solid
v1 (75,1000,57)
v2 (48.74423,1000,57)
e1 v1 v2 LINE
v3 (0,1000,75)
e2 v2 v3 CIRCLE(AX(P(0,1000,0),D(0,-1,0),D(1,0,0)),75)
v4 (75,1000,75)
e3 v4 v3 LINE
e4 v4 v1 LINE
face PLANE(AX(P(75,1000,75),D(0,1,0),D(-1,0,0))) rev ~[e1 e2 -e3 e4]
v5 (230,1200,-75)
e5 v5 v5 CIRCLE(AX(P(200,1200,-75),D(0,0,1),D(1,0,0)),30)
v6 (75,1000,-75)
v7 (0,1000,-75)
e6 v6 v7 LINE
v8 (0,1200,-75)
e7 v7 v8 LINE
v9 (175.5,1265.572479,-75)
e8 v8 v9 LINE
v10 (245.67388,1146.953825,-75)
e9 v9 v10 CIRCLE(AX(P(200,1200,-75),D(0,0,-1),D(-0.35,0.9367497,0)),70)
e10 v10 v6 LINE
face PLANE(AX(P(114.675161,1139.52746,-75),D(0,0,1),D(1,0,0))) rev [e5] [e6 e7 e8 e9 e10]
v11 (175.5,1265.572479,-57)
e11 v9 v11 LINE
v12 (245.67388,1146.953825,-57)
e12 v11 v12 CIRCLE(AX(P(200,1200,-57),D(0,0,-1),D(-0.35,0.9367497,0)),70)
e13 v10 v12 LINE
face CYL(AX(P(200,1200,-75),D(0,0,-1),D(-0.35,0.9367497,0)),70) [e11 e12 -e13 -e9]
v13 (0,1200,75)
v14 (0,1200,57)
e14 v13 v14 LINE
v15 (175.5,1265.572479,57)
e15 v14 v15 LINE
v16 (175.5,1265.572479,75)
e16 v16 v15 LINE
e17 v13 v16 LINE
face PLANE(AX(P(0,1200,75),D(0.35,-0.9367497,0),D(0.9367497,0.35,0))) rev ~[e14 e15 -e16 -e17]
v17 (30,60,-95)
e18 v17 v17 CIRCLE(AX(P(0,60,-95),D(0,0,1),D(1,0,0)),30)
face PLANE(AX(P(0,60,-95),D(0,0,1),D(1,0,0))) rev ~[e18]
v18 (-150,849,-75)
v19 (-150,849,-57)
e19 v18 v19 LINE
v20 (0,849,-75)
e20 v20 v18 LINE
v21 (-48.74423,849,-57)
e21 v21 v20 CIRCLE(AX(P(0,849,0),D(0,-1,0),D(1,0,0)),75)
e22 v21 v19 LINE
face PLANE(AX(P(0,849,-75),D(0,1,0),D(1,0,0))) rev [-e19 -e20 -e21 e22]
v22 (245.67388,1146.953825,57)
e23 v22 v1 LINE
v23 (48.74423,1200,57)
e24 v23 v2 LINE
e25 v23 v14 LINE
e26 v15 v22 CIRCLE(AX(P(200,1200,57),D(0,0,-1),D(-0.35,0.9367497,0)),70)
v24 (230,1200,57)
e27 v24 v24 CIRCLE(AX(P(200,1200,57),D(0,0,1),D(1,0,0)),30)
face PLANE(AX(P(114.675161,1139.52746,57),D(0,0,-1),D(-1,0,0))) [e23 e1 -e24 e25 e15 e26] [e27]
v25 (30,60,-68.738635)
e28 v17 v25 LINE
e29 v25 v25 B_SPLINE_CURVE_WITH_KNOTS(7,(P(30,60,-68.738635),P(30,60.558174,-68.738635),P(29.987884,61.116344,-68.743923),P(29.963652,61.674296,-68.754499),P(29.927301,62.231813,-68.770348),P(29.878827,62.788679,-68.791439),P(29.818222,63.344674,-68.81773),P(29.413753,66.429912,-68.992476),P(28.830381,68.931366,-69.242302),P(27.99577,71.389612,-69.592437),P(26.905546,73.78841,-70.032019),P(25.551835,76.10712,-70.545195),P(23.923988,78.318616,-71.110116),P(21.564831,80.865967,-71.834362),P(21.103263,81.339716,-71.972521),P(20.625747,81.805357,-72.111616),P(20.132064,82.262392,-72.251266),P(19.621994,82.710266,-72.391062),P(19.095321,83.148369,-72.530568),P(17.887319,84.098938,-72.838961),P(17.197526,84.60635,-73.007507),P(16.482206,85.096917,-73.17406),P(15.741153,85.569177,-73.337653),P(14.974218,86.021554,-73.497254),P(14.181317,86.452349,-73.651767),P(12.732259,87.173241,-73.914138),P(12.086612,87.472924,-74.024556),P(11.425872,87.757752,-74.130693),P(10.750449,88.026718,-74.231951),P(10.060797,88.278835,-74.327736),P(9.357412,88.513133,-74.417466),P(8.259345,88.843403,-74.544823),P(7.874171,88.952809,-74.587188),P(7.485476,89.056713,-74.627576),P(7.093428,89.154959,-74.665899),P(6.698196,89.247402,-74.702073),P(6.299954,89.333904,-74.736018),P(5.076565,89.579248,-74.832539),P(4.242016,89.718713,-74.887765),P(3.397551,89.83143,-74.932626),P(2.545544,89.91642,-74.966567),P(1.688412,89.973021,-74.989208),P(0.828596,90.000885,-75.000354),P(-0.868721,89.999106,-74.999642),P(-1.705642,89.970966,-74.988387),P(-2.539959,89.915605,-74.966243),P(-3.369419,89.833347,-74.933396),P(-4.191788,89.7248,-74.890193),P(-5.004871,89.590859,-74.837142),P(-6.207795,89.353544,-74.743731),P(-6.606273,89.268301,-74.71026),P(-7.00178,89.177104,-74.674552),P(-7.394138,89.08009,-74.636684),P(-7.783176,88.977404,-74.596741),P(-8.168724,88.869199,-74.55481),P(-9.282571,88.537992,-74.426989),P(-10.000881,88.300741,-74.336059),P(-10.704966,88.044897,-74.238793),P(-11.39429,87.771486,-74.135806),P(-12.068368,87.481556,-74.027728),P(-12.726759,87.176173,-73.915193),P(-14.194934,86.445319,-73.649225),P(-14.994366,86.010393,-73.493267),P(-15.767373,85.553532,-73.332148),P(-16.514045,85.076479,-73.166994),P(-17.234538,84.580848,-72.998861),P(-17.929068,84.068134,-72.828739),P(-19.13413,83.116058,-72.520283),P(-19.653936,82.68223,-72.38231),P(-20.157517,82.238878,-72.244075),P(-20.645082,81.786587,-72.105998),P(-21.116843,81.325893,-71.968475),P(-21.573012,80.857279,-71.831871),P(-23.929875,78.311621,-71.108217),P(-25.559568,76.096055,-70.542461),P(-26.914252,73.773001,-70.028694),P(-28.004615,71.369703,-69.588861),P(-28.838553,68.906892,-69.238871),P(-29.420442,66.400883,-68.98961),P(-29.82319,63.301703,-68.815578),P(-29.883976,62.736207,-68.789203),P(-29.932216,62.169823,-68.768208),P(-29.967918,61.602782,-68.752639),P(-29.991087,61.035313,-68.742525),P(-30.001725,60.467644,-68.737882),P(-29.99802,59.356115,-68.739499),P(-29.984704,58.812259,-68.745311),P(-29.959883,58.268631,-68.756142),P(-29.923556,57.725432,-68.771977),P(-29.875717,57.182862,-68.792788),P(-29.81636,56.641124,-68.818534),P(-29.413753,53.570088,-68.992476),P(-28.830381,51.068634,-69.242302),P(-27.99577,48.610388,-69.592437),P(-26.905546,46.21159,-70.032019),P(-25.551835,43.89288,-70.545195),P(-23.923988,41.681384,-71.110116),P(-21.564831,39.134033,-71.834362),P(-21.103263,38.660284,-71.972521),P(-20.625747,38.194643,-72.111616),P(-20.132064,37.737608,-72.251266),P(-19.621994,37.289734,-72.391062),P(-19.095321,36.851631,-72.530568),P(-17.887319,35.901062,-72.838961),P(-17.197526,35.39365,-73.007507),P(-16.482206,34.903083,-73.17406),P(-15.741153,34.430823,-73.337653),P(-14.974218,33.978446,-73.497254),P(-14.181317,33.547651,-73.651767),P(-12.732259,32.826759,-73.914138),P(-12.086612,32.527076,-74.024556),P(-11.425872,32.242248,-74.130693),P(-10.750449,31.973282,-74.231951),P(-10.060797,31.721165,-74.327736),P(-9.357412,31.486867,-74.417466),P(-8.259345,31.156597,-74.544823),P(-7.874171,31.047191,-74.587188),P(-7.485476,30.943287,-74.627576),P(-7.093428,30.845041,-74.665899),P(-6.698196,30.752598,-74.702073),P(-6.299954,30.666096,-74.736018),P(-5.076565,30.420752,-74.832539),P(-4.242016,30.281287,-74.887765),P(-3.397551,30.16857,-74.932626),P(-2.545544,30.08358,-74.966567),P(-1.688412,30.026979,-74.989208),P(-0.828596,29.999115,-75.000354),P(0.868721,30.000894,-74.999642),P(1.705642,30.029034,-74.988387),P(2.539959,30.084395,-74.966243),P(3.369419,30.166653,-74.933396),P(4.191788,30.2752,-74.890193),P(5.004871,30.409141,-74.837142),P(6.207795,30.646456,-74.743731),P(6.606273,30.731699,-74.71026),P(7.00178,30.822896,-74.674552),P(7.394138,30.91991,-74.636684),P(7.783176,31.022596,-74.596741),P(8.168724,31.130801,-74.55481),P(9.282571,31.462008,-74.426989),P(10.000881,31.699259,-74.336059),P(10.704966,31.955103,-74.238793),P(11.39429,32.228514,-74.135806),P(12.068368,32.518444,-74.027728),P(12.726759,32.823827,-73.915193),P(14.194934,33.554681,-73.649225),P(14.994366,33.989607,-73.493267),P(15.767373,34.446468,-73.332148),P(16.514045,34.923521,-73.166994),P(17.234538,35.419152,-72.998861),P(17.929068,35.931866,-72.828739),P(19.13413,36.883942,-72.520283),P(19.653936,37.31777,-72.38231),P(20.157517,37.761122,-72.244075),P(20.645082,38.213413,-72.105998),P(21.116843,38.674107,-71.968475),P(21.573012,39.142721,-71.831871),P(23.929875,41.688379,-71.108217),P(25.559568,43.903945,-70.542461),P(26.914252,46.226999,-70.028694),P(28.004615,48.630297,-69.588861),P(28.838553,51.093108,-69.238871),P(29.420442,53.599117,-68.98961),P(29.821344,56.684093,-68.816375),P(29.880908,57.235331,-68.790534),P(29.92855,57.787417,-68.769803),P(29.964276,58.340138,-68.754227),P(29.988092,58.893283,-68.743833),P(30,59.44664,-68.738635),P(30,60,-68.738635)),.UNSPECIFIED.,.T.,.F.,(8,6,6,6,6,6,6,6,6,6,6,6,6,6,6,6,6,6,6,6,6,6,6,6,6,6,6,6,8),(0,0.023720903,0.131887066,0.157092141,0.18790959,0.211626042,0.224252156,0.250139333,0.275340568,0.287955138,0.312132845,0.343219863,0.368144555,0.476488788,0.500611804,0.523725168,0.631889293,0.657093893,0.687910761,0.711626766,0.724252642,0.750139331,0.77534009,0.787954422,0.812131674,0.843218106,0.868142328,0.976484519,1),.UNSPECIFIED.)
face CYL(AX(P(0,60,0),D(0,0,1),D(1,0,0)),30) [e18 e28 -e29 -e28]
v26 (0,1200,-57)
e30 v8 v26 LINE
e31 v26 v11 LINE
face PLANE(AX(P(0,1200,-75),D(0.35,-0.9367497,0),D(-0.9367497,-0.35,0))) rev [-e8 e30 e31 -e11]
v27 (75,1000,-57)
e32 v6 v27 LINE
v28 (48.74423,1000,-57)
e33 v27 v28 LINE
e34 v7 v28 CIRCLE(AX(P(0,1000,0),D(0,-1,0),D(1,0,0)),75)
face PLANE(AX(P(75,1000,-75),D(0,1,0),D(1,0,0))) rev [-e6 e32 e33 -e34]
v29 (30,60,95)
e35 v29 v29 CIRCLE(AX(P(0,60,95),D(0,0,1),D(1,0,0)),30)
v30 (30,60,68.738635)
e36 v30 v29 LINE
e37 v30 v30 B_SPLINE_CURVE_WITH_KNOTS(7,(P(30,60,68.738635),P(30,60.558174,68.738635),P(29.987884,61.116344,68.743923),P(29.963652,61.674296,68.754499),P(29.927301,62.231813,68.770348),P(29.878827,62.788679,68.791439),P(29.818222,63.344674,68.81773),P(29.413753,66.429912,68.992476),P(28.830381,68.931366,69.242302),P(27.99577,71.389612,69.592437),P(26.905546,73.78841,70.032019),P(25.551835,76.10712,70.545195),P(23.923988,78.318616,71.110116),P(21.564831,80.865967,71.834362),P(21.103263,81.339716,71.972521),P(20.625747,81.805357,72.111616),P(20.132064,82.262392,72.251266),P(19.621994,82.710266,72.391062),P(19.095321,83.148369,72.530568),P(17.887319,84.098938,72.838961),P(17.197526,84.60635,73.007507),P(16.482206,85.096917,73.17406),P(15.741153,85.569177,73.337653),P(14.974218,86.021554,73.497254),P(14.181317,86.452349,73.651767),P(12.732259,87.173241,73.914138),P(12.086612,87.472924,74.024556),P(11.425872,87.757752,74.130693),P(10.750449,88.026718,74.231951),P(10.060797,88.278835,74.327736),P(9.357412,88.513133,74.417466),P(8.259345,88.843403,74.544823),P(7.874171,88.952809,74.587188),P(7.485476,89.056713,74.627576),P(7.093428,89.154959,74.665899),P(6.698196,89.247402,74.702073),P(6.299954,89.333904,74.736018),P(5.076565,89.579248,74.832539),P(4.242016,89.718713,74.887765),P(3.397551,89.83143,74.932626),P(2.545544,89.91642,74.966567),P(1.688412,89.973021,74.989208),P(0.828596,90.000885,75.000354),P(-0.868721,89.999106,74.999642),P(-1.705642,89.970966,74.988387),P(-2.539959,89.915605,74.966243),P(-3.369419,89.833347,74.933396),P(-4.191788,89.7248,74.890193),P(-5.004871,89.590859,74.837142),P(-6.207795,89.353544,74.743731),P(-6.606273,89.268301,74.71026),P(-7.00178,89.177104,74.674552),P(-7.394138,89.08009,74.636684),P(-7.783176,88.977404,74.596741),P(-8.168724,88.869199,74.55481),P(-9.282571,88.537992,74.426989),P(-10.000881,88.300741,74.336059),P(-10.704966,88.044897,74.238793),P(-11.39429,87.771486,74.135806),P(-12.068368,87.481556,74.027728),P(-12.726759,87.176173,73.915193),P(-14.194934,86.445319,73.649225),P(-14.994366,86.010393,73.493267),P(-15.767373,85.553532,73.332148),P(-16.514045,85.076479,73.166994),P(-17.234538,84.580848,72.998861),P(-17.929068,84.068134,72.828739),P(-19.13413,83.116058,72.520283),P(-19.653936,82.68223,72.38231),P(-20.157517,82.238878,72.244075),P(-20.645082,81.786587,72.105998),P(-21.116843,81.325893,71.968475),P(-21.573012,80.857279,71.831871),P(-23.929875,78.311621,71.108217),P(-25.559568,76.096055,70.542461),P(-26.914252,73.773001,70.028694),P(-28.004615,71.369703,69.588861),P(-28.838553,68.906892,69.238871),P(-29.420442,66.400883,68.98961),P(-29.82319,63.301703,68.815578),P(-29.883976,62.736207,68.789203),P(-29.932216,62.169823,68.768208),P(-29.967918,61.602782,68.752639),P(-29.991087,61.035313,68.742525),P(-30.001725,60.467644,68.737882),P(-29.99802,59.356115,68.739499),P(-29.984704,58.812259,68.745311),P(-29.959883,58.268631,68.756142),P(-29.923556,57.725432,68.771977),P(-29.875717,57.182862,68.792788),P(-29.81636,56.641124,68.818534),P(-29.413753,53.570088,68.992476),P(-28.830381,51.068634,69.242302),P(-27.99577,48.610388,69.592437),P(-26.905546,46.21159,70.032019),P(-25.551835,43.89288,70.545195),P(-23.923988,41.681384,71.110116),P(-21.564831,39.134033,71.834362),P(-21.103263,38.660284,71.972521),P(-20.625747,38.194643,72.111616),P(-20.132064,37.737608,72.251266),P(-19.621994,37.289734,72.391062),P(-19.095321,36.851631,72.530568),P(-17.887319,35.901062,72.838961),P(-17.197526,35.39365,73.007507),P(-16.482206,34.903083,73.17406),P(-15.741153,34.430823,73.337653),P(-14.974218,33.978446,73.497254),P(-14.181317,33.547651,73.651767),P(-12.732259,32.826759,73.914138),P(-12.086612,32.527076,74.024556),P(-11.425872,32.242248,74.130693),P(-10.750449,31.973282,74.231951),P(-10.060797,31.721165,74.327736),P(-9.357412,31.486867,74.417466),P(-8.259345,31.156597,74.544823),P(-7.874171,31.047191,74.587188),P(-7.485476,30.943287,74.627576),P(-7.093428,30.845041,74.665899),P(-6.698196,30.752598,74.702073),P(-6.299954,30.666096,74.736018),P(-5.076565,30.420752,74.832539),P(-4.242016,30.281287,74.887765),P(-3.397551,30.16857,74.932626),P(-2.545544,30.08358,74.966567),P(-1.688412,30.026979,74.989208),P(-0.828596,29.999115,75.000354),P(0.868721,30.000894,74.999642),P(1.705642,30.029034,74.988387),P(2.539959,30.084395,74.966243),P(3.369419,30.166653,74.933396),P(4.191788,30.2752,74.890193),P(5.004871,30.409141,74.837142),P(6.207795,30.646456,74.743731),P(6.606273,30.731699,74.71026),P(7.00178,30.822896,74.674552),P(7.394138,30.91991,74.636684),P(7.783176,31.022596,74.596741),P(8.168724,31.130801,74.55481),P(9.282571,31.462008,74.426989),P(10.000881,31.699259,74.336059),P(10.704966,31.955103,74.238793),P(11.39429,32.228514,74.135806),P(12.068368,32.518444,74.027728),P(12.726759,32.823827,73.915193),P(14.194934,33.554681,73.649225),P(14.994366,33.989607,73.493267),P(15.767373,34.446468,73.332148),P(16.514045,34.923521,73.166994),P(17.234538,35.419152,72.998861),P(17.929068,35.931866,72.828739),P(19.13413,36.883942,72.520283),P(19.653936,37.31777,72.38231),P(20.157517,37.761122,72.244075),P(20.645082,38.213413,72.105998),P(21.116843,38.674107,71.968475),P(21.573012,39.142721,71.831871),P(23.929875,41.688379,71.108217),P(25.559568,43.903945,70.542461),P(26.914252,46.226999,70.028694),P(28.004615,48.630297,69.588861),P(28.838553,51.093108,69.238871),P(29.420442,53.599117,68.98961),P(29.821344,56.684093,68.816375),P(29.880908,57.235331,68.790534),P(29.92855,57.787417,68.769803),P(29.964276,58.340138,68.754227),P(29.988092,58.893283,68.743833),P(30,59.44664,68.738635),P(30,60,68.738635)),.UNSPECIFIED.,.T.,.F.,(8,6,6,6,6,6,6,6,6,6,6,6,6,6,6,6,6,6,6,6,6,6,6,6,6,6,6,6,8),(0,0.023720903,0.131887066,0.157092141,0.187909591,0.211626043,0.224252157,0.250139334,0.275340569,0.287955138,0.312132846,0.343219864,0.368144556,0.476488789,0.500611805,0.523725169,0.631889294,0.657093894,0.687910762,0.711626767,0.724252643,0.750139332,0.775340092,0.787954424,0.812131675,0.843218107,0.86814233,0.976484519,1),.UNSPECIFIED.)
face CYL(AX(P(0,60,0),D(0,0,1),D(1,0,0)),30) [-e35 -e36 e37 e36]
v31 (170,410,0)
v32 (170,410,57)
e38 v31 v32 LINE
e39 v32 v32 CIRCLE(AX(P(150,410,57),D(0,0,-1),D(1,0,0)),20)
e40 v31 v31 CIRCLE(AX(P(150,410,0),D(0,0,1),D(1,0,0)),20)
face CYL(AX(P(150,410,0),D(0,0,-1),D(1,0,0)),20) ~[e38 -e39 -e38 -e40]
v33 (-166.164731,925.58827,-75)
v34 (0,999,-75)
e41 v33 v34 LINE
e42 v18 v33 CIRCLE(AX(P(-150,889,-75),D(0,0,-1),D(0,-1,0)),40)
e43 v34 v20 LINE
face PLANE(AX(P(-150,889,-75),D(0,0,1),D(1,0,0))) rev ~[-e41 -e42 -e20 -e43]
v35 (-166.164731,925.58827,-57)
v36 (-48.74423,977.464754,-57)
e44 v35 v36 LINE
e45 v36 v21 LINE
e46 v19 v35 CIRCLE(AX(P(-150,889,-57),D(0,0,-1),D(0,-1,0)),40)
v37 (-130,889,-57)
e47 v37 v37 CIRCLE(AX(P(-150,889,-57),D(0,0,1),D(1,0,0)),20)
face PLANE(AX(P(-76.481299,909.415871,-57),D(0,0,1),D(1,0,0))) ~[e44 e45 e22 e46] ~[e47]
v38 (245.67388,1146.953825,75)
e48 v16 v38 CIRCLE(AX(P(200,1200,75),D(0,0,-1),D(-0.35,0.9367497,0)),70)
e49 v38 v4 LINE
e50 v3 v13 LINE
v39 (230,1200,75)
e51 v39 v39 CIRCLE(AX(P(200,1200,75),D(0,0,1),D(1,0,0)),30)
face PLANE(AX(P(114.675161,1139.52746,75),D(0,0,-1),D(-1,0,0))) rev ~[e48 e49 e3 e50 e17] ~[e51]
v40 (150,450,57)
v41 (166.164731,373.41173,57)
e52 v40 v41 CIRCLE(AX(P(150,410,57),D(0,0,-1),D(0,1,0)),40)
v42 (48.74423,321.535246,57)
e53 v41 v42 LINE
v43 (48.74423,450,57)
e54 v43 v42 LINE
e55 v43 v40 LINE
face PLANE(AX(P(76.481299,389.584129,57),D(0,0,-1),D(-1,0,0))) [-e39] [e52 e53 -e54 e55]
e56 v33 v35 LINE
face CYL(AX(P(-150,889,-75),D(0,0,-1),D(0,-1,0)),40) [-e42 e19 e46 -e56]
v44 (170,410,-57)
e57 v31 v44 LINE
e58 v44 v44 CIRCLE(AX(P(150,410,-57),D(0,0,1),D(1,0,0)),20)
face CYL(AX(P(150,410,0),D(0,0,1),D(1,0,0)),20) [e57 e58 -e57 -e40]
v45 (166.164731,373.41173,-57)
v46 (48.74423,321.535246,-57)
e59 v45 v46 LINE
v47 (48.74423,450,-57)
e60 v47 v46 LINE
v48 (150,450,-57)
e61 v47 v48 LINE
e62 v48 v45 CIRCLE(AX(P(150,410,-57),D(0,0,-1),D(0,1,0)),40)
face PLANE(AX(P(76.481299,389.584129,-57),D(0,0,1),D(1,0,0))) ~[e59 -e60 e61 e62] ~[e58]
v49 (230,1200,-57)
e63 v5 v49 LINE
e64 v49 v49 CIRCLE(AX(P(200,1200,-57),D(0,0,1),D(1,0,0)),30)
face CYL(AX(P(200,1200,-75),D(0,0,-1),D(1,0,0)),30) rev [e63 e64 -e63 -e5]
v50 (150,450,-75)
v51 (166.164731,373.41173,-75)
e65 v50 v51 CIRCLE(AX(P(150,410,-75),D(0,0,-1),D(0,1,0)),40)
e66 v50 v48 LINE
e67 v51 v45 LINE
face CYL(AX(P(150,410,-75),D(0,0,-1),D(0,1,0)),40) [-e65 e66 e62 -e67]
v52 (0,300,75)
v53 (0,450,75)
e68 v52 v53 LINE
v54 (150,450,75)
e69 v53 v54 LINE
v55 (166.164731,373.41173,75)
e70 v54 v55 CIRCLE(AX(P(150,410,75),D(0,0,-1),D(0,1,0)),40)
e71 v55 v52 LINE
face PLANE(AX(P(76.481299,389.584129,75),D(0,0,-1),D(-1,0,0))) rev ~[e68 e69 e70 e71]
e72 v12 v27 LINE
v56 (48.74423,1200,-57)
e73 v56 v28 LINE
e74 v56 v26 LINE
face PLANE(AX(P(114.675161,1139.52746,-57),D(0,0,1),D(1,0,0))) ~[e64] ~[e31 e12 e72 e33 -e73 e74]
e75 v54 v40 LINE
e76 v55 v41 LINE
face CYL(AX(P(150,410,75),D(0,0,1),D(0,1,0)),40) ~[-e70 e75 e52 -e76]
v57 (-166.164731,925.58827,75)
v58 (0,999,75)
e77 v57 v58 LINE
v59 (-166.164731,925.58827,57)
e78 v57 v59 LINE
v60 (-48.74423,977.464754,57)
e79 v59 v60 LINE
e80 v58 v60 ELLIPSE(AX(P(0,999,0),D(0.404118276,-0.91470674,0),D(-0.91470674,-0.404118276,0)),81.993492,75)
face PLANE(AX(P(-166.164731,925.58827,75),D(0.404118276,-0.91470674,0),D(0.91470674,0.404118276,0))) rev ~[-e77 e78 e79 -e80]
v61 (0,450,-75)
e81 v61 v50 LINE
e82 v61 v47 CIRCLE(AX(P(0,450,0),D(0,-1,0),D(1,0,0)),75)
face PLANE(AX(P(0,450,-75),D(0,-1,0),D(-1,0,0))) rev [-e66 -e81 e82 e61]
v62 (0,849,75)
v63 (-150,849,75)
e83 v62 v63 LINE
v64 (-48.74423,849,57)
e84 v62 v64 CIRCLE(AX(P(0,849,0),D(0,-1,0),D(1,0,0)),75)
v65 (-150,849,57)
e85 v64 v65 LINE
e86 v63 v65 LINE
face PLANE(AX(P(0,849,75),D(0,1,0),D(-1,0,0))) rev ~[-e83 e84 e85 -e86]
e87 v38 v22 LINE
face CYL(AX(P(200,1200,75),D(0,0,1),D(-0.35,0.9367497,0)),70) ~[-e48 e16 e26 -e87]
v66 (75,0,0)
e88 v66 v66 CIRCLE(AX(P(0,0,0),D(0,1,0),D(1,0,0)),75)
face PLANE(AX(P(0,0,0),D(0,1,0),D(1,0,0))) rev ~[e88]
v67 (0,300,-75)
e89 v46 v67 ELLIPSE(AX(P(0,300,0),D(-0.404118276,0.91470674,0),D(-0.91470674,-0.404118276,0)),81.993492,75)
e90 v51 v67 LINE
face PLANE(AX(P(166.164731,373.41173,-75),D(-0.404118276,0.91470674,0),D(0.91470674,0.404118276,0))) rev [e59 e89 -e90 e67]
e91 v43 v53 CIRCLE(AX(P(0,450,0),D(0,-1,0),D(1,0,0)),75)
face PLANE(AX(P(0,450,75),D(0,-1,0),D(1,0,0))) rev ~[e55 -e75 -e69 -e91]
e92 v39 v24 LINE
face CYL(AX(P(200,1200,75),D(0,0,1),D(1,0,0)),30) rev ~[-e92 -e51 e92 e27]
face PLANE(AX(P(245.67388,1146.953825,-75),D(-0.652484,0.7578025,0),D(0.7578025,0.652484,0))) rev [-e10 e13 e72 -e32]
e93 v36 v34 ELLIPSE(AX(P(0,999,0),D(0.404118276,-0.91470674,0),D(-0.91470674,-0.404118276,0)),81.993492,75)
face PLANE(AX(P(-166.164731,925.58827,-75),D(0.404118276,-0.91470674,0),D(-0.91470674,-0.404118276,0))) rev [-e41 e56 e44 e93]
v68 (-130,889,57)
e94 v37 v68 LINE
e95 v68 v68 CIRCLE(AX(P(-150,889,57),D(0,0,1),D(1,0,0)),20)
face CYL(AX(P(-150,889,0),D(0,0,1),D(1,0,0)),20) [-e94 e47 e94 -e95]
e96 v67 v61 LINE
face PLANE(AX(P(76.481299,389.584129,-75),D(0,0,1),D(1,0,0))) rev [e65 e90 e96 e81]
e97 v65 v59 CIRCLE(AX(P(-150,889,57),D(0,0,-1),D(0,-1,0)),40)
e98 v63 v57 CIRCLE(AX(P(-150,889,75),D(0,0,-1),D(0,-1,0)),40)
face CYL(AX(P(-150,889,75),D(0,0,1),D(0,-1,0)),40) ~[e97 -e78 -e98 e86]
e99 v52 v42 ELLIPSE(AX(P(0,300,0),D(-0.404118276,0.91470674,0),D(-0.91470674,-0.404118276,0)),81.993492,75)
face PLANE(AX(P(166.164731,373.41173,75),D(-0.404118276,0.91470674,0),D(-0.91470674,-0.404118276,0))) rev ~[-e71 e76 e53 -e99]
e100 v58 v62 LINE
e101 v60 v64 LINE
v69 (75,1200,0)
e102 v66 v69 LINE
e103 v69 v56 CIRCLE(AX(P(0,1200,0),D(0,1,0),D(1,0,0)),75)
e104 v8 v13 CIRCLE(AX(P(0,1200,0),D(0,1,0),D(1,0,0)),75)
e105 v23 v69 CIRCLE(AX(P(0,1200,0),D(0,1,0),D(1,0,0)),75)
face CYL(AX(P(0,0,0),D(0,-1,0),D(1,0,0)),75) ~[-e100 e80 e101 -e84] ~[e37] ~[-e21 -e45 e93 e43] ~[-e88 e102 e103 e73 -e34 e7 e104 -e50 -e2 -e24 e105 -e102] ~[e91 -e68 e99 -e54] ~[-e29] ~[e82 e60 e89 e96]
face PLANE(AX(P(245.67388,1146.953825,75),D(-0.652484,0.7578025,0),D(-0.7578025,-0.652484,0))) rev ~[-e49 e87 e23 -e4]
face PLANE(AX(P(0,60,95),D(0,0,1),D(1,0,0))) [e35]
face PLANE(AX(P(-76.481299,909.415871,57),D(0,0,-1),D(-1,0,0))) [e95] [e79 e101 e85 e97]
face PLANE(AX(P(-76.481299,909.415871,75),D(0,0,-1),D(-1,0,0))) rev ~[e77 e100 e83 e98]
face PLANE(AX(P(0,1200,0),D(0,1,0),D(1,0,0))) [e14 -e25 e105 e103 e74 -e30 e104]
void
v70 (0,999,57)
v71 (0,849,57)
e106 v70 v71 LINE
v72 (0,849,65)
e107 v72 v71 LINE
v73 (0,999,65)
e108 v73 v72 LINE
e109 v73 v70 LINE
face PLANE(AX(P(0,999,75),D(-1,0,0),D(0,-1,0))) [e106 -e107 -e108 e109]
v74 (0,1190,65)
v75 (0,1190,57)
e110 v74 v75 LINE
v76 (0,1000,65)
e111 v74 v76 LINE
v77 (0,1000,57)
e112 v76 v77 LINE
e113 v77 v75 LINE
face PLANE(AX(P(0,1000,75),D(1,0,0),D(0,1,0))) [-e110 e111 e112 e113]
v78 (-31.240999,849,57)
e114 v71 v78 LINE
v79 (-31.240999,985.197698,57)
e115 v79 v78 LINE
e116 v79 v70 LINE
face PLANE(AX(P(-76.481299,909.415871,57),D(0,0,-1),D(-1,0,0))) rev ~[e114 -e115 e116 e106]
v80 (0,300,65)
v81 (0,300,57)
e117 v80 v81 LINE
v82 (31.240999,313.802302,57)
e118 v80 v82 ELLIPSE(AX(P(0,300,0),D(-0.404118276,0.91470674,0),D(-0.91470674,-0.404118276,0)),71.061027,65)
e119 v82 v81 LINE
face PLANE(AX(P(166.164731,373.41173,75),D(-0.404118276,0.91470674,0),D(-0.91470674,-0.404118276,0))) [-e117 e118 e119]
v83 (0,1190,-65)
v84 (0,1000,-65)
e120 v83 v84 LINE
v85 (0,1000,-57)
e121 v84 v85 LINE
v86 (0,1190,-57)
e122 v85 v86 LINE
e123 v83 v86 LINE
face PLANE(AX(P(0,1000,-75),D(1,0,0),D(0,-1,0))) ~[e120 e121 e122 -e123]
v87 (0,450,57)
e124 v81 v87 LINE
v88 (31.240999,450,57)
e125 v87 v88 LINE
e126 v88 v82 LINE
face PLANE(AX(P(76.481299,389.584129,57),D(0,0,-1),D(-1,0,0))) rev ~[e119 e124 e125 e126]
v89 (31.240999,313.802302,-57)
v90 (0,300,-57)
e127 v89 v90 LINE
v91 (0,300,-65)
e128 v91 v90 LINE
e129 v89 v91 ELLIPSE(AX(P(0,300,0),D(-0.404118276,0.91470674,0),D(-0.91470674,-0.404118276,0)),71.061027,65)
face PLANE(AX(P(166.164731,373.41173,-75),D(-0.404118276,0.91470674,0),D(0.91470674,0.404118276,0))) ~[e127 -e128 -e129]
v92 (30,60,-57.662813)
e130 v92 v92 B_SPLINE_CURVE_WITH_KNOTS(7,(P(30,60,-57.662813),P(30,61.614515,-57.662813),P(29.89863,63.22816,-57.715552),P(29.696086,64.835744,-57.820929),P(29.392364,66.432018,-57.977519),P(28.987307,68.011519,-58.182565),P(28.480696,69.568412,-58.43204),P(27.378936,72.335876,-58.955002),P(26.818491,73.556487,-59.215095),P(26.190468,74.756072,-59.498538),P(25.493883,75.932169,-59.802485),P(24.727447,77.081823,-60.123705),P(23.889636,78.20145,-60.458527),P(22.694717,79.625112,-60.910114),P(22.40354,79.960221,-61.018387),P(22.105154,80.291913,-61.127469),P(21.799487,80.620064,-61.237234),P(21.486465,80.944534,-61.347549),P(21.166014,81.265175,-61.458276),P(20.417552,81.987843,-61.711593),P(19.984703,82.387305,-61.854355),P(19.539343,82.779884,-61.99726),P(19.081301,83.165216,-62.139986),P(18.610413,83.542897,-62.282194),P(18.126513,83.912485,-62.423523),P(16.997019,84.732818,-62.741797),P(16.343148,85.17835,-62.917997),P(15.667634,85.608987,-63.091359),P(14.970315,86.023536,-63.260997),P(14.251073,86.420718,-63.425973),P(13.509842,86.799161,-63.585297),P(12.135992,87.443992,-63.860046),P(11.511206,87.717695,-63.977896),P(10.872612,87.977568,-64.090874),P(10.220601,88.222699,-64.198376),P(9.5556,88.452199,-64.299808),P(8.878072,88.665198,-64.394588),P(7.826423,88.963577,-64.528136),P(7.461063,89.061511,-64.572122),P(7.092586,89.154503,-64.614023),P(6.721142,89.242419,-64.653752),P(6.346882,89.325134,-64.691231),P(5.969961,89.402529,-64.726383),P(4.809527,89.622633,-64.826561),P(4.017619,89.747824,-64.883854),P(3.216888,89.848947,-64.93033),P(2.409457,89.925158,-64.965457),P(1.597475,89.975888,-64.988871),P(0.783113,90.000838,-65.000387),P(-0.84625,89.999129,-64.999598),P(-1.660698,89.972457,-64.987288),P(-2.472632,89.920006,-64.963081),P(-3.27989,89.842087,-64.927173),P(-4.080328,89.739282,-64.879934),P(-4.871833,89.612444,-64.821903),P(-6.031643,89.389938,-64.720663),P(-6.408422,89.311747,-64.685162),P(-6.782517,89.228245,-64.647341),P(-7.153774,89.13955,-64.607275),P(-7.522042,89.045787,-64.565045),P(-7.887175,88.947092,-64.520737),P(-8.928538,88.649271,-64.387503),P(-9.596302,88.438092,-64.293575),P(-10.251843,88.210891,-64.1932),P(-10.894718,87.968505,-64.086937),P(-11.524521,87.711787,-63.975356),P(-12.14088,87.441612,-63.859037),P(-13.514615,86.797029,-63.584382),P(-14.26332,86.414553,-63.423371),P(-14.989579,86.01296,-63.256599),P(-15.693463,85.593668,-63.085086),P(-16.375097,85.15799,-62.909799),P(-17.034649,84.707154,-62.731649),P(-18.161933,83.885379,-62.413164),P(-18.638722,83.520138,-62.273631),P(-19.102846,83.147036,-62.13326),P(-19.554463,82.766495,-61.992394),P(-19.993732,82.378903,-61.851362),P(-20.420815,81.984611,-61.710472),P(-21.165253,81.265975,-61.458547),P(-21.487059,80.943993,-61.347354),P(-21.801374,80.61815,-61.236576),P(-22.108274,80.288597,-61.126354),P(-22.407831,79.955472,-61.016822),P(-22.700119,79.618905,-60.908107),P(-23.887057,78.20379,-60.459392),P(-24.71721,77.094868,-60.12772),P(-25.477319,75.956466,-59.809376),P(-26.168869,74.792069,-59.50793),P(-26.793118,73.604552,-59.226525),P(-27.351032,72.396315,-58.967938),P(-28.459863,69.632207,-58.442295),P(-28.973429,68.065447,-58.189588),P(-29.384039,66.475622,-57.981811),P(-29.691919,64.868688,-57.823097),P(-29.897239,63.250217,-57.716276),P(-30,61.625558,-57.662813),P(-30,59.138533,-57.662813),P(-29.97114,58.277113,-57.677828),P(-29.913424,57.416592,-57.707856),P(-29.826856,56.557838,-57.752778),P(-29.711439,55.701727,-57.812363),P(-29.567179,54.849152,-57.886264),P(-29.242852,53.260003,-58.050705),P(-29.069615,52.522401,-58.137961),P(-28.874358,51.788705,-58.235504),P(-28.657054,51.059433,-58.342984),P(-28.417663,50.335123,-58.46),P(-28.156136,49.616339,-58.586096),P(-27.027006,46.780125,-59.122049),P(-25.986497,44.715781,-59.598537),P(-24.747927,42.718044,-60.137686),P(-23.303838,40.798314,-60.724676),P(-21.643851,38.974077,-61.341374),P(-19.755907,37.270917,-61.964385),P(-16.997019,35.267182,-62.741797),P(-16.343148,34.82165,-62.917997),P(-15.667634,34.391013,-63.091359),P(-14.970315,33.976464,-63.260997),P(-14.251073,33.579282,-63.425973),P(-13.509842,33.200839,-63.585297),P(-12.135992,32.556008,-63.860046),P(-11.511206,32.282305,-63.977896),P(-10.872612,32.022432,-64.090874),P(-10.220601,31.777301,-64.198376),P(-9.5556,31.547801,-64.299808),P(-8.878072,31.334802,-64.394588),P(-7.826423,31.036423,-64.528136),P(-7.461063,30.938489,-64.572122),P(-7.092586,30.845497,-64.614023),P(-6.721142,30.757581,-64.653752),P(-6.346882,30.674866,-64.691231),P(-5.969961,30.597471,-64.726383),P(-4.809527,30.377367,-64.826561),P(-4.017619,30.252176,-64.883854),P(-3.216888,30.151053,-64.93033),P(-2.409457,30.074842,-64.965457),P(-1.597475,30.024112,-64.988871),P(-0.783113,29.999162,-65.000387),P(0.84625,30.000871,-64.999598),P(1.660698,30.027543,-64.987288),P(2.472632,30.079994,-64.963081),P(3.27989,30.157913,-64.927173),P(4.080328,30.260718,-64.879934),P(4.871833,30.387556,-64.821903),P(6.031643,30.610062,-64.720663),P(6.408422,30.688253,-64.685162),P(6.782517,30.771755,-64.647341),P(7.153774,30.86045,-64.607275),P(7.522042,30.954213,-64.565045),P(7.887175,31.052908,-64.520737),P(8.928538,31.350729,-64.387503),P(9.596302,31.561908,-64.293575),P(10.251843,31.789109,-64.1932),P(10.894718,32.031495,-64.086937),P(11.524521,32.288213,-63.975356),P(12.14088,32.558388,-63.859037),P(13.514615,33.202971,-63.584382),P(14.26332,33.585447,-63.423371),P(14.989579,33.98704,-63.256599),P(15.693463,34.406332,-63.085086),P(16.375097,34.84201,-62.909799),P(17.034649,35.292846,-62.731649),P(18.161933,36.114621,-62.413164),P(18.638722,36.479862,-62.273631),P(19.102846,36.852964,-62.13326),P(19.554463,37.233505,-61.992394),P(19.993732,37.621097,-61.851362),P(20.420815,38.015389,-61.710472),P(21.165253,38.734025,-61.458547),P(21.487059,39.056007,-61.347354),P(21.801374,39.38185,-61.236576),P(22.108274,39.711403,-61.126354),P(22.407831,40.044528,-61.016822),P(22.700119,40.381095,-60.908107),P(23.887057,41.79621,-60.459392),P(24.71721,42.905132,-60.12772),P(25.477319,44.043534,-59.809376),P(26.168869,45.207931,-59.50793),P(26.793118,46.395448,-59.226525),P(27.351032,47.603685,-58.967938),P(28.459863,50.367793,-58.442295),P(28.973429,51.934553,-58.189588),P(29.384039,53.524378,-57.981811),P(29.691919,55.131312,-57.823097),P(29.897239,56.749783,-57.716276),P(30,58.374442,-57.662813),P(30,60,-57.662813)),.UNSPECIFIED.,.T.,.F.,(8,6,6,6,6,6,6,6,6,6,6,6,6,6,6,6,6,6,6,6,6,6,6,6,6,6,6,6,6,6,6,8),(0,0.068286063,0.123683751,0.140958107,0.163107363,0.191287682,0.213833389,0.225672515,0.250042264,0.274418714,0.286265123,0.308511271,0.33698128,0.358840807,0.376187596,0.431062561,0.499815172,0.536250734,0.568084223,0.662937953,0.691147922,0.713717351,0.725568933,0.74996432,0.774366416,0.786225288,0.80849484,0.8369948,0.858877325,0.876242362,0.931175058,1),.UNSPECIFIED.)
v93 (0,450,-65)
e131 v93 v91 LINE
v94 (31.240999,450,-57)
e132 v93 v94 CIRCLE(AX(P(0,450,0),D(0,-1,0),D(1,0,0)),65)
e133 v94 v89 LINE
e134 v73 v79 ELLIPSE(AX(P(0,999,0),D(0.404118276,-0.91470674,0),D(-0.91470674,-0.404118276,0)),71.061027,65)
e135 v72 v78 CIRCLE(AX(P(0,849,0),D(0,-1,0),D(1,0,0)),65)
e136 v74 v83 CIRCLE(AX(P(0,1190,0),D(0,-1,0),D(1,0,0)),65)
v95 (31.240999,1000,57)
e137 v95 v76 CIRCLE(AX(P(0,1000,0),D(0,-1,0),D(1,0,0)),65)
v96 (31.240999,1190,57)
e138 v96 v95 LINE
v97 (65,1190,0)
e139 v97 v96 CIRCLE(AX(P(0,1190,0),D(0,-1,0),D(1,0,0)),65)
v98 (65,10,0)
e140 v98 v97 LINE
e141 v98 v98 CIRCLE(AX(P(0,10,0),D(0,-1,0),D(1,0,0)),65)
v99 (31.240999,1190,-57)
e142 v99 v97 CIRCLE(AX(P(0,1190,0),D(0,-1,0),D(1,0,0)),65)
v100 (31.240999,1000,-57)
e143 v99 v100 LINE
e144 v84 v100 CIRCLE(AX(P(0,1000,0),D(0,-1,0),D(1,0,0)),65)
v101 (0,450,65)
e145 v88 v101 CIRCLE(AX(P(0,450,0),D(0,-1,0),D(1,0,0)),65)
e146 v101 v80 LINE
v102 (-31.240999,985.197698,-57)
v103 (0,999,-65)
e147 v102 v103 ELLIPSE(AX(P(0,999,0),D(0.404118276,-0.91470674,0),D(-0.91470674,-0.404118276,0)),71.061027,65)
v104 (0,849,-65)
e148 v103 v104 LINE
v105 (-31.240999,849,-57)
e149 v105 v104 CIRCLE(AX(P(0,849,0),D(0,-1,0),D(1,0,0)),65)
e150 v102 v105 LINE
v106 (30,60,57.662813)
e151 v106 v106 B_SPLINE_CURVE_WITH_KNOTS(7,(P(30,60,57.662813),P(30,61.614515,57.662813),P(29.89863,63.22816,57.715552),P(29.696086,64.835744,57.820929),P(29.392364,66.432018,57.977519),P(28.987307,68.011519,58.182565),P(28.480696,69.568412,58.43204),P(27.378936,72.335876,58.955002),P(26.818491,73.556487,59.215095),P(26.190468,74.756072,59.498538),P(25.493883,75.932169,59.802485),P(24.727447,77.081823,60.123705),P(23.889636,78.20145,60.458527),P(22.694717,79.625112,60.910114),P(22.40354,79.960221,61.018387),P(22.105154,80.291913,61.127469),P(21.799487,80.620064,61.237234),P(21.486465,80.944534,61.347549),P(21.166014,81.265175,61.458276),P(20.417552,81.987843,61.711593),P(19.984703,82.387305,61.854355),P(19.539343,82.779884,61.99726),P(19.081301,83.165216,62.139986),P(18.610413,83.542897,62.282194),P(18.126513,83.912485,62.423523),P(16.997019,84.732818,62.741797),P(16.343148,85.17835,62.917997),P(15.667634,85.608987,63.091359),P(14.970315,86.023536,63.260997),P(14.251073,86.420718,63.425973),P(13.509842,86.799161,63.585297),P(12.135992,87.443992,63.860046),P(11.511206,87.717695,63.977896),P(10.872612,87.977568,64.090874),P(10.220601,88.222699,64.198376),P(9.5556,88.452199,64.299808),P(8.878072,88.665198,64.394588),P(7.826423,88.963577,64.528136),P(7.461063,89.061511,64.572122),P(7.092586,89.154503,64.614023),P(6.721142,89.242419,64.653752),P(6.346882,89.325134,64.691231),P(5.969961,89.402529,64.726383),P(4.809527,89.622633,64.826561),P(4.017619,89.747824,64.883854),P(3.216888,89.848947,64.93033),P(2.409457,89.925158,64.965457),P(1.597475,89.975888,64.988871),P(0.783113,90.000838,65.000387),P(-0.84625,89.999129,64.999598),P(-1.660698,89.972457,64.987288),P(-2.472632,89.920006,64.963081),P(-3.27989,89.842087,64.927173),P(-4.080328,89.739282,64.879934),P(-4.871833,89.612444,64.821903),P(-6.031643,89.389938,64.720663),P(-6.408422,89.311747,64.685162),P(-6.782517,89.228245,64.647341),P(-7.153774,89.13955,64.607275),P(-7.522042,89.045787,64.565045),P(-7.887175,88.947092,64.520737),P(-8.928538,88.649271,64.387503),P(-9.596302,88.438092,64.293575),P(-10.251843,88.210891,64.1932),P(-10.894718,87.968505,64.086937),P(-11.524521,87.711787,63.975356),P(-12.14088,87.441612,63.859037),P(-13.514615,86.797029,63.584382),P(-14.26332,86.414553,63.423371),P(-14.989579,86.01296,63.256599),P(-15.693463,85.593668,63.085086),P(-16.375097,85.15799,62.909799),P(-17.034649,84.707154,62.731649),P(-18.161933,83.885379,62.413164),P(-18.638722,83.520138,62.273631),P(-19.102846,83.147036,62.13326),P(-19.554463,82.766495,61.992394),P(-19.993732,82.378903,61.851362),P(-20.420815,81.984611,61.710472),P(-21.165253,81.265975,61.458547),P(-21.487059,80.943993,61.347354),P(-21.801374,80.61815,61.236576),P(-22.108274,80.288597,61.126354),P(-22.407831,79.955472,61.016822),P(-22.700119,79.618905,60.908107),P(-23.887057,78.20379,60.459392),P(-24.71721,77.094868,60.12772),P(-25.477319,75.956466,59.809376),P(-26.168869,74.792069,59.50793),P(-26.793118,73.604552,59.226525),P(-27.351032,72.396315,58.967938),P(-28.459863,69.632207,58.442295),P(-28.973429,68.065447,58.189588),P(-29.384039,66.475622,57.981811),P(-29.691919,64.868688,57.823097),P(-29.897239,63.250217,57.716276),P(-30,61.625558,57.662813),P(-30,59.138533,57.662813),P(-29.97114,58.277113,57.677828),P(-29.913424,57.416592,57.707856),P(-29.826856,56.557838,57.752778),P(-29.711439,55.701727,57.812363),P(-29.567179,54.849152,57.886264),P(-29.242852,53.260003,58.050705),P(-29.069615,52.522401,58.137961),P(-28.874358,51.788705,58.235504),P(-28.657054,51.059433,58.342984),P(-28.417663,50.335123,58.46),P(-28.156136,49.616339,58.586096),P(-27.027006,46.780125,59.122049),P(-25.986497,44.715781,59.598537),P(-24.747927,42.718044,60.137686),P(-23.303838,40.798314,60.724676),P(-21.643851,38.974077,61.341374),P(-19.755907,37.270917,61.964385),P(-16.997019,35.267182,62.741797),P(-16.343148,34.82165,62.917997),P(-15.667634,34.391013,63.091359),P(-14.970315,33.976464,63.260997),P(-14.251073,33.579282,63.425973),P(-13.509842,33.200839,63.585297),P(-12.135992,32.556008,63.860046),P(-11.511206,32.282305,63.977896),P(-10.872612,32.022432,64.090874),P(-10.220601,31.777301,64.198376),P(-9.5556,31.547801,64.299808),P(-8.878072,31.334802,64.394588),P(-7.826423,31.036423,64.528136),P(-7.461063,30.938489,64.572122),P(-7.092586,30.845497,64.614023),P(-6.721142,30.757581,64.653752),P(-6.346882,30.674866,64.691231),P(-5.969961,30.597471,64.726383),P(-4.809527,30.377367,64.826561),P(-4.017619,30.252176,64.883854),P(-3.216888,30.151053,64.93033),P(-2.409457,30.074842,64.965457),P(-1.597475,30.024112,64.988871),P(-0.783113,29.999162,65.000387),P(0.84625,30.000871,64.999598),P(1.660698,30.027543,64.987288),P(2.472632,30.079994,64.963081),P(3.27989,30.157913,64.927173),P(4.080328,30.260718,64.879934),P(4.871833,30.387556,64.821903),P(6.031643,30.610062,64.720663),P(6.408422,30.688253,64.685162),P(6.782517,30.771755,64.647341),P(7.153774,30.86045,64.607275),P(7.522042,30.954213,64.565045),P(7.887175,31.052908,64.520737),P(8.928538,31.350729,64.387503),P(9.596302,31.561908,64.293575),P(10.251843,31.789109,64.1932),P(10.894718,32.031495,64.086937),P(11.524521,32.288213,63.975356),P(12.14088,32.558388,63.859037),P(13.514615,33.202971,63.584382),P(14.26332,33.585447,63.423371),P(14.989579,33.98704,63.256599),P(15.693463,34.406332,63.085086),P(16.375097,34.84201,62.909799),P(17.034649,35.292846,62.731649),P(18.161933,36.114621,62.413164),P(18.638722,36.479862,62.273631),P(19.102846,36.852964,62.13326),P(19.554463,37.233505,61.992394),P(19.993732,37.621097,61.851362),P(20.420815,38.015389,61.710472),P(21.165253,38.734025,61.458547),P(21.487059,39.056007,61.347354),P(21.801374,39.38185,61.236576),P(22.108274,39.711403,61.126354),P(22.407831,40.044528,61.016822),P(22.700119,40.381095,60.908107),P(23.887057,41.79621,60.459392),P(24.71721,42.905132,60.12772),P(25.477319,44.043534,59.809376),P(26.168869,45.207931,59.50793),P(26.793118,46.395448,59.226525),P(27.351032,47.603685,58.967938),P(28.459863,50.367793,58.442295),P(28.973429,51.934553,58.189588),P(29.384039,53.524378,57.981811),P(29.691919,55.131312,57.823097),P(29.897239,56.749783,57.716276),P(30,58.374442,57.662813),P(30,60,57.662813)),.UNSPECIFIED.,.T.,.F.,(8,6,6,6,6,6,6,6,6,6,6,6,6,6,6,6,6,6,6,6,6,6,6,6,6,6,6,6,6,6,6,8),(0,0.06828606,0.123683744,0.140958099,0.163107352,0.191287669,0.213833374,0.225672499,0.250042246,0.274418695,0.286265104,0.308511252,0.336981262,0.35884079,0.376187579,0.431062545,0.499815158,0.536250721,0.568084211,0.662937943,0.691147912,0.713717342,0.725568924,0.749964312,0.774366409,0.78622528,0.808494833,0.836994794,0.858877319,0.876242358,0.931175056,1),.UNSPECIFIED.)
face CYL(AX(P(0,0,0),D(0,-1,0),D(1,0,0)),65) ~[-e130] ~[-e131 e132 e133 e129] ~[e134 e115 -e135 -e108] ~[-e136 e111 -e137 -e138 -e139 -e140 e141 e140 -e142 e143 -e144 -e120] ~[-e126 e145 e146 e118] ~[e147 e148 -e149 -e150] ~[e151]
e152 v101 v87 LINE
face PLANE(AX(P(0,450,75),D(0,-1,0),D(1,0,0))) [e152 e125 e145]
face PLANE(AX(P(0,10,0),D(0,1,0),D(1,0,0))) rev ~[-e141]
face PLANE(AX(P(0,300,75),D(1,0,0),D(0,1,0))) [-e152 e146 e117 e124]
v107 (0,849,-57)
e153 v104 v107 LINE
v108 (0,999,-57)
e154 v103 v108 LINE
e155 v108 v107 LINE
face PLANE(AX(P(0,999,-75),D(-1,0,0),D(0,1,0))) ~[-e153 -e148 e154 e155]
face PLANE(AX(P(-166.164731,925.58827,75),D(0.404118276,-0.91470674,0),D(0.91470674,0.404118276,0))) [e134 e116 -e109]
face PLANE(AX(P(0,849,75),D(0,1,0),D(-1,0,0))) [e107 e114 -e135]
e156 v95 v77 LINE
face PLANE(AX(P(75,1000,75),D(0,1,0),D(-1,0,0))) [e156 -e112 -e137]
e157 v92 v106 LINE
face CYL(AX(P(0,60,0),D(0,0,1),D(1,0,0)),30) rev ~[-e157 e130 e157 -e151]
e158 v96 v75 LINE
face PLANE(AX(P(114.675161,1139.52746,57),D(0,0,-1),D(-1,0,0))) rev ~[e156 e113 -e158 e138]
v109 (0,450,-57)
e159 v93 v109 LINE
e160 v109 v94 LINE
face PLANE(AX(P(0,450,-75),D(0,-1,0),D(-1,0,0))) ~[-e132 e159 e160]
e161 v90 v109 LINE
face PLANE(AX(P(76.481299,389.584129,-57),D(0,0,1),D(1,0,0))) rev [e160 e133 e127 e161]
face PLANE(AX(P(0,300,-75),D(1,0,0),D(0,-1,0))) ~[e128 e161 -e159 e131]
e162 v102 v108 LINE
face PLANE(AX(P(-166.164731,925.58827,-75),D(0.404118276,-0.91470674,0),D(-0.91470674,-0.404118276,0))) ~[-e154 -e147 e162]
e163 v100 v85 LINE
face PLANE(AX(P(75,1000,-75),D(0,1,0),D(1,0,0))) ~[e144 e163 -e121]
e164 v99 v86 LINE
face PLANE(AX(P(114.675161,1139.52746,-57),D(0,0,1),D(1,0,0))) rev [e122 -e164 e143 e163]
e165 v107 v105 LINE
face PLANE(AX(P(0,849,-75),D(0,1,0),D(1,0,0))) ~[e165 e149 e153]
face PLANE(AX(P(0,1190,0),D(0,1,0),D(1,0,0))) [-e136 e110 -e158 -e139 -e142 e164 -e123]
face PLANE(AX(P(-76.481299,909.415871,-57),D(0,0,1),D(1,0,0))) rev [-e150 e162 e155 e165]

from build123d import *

# Parameters (mm, degrees)
SKETCH2_R           = 75
BOSS_EXTRUDE1_DEPTH = 1200
SHELL4_T            = 10
BOSS_EXTRUDE2_START = 75
SKETCH3_R           = 30
BOSS_EXTRUDE2_DEPTH = 18
SKETCH10_R          = 30
BOSS_EXTRUDE3_DEPTH = 95
SKETCH12_R          = 20
BOSS_EXTRUDE4_DEPTH = 75


with BuildPart() as part:
    # Sketch2 → Boss-Extrude1 (new body)
    with BuildSketch(Plane(origin=(0, 0, 0), x_dir=(1, 0, 0), z_dir=(0, 1, 0))):
        Circle(SKETCH2_R)
    extrude(amount=BOSS_EXTRUDE1_DEPTH)

    # Shell4 (no face opened: a closed hollow body)
    add(offset(amount=-SHELL4_T, mode=Mode.PRIVATE), mode=Mode.SUBTRACT)

    # Sketch3 → Boss-Extrude2 (add)
    with BuildSketch(Plane.XY.offset(BOSS_EXTRUDE2_START)):
        with BuildLine():
            Line((0, 450), (150, 450))
            ThreePointArc((150, 450), (189.137774485, 418.260424226), (166.164731025, 373.41173042))
            Line((166.164731025, 373.41173042), (0, 300))
            Line((0, 300), (0, 450))
        make_face()
        with BuildLine():
            Line((0, 999), (0, 849))
            Line((0, 849), (-150, 849))
            ThreePointArc((-150, 849), (-189.137774485, 880.739575774), (-166.164731025, 925.58826958))
            Line((-166.164731025, 925.58826958), (0, 999))
        make_face()
        with BuildLine():
            Line((0, 1000), (0, 1200))
            Line((0, 1200), (175.5, 1265.572478983))
            ThreePointArc((175.5, 1265.572478983), (260.246822056, 1235.64155485), (245.673880023, 1146.953824986))
            Line((245.673880023, 1146.953824986), (75, 1000))
            Line((75, 1000), (0, 1000))
        make_face()
        with Locations((200, 1200)):
            Circle(SKETCH3_R, mode=Mode.SUBTRACT)
    boss_extrude2 = extrude(amount=-BOSS_EXTRUDE2_DEPTH)

    # Mirror11: Boss-Extrude2 across plane
    add(boss_extrude2.mirror(Plane(origin=(0, 0, 0), x_dir=(1, 0, 0), z_dir=(0, 0, -1))))

    # Sketch10 → Boss-Extrude3 (add, symmetric)
    with BuildSketch(Plane.XY):
        with Locations((0, 60)):
            Circle(SKETCH10_R)
    extrude(amount=BOSS_EXTRUDE3_DEPTH, both=True)

    # Sketch12 → Boss-Extrude4 (add, symmetric)
    with BuildSketch(Plane.XY):
        with Locations((150, 410)):
            Circle(SKETCH12_R)
        with Locations((-150, 889)):
            Circle(SKETCH12_R)
    extrude(amount=BOSS_EXTRUDE4_DEPTH, both=True)


solid = part.part
